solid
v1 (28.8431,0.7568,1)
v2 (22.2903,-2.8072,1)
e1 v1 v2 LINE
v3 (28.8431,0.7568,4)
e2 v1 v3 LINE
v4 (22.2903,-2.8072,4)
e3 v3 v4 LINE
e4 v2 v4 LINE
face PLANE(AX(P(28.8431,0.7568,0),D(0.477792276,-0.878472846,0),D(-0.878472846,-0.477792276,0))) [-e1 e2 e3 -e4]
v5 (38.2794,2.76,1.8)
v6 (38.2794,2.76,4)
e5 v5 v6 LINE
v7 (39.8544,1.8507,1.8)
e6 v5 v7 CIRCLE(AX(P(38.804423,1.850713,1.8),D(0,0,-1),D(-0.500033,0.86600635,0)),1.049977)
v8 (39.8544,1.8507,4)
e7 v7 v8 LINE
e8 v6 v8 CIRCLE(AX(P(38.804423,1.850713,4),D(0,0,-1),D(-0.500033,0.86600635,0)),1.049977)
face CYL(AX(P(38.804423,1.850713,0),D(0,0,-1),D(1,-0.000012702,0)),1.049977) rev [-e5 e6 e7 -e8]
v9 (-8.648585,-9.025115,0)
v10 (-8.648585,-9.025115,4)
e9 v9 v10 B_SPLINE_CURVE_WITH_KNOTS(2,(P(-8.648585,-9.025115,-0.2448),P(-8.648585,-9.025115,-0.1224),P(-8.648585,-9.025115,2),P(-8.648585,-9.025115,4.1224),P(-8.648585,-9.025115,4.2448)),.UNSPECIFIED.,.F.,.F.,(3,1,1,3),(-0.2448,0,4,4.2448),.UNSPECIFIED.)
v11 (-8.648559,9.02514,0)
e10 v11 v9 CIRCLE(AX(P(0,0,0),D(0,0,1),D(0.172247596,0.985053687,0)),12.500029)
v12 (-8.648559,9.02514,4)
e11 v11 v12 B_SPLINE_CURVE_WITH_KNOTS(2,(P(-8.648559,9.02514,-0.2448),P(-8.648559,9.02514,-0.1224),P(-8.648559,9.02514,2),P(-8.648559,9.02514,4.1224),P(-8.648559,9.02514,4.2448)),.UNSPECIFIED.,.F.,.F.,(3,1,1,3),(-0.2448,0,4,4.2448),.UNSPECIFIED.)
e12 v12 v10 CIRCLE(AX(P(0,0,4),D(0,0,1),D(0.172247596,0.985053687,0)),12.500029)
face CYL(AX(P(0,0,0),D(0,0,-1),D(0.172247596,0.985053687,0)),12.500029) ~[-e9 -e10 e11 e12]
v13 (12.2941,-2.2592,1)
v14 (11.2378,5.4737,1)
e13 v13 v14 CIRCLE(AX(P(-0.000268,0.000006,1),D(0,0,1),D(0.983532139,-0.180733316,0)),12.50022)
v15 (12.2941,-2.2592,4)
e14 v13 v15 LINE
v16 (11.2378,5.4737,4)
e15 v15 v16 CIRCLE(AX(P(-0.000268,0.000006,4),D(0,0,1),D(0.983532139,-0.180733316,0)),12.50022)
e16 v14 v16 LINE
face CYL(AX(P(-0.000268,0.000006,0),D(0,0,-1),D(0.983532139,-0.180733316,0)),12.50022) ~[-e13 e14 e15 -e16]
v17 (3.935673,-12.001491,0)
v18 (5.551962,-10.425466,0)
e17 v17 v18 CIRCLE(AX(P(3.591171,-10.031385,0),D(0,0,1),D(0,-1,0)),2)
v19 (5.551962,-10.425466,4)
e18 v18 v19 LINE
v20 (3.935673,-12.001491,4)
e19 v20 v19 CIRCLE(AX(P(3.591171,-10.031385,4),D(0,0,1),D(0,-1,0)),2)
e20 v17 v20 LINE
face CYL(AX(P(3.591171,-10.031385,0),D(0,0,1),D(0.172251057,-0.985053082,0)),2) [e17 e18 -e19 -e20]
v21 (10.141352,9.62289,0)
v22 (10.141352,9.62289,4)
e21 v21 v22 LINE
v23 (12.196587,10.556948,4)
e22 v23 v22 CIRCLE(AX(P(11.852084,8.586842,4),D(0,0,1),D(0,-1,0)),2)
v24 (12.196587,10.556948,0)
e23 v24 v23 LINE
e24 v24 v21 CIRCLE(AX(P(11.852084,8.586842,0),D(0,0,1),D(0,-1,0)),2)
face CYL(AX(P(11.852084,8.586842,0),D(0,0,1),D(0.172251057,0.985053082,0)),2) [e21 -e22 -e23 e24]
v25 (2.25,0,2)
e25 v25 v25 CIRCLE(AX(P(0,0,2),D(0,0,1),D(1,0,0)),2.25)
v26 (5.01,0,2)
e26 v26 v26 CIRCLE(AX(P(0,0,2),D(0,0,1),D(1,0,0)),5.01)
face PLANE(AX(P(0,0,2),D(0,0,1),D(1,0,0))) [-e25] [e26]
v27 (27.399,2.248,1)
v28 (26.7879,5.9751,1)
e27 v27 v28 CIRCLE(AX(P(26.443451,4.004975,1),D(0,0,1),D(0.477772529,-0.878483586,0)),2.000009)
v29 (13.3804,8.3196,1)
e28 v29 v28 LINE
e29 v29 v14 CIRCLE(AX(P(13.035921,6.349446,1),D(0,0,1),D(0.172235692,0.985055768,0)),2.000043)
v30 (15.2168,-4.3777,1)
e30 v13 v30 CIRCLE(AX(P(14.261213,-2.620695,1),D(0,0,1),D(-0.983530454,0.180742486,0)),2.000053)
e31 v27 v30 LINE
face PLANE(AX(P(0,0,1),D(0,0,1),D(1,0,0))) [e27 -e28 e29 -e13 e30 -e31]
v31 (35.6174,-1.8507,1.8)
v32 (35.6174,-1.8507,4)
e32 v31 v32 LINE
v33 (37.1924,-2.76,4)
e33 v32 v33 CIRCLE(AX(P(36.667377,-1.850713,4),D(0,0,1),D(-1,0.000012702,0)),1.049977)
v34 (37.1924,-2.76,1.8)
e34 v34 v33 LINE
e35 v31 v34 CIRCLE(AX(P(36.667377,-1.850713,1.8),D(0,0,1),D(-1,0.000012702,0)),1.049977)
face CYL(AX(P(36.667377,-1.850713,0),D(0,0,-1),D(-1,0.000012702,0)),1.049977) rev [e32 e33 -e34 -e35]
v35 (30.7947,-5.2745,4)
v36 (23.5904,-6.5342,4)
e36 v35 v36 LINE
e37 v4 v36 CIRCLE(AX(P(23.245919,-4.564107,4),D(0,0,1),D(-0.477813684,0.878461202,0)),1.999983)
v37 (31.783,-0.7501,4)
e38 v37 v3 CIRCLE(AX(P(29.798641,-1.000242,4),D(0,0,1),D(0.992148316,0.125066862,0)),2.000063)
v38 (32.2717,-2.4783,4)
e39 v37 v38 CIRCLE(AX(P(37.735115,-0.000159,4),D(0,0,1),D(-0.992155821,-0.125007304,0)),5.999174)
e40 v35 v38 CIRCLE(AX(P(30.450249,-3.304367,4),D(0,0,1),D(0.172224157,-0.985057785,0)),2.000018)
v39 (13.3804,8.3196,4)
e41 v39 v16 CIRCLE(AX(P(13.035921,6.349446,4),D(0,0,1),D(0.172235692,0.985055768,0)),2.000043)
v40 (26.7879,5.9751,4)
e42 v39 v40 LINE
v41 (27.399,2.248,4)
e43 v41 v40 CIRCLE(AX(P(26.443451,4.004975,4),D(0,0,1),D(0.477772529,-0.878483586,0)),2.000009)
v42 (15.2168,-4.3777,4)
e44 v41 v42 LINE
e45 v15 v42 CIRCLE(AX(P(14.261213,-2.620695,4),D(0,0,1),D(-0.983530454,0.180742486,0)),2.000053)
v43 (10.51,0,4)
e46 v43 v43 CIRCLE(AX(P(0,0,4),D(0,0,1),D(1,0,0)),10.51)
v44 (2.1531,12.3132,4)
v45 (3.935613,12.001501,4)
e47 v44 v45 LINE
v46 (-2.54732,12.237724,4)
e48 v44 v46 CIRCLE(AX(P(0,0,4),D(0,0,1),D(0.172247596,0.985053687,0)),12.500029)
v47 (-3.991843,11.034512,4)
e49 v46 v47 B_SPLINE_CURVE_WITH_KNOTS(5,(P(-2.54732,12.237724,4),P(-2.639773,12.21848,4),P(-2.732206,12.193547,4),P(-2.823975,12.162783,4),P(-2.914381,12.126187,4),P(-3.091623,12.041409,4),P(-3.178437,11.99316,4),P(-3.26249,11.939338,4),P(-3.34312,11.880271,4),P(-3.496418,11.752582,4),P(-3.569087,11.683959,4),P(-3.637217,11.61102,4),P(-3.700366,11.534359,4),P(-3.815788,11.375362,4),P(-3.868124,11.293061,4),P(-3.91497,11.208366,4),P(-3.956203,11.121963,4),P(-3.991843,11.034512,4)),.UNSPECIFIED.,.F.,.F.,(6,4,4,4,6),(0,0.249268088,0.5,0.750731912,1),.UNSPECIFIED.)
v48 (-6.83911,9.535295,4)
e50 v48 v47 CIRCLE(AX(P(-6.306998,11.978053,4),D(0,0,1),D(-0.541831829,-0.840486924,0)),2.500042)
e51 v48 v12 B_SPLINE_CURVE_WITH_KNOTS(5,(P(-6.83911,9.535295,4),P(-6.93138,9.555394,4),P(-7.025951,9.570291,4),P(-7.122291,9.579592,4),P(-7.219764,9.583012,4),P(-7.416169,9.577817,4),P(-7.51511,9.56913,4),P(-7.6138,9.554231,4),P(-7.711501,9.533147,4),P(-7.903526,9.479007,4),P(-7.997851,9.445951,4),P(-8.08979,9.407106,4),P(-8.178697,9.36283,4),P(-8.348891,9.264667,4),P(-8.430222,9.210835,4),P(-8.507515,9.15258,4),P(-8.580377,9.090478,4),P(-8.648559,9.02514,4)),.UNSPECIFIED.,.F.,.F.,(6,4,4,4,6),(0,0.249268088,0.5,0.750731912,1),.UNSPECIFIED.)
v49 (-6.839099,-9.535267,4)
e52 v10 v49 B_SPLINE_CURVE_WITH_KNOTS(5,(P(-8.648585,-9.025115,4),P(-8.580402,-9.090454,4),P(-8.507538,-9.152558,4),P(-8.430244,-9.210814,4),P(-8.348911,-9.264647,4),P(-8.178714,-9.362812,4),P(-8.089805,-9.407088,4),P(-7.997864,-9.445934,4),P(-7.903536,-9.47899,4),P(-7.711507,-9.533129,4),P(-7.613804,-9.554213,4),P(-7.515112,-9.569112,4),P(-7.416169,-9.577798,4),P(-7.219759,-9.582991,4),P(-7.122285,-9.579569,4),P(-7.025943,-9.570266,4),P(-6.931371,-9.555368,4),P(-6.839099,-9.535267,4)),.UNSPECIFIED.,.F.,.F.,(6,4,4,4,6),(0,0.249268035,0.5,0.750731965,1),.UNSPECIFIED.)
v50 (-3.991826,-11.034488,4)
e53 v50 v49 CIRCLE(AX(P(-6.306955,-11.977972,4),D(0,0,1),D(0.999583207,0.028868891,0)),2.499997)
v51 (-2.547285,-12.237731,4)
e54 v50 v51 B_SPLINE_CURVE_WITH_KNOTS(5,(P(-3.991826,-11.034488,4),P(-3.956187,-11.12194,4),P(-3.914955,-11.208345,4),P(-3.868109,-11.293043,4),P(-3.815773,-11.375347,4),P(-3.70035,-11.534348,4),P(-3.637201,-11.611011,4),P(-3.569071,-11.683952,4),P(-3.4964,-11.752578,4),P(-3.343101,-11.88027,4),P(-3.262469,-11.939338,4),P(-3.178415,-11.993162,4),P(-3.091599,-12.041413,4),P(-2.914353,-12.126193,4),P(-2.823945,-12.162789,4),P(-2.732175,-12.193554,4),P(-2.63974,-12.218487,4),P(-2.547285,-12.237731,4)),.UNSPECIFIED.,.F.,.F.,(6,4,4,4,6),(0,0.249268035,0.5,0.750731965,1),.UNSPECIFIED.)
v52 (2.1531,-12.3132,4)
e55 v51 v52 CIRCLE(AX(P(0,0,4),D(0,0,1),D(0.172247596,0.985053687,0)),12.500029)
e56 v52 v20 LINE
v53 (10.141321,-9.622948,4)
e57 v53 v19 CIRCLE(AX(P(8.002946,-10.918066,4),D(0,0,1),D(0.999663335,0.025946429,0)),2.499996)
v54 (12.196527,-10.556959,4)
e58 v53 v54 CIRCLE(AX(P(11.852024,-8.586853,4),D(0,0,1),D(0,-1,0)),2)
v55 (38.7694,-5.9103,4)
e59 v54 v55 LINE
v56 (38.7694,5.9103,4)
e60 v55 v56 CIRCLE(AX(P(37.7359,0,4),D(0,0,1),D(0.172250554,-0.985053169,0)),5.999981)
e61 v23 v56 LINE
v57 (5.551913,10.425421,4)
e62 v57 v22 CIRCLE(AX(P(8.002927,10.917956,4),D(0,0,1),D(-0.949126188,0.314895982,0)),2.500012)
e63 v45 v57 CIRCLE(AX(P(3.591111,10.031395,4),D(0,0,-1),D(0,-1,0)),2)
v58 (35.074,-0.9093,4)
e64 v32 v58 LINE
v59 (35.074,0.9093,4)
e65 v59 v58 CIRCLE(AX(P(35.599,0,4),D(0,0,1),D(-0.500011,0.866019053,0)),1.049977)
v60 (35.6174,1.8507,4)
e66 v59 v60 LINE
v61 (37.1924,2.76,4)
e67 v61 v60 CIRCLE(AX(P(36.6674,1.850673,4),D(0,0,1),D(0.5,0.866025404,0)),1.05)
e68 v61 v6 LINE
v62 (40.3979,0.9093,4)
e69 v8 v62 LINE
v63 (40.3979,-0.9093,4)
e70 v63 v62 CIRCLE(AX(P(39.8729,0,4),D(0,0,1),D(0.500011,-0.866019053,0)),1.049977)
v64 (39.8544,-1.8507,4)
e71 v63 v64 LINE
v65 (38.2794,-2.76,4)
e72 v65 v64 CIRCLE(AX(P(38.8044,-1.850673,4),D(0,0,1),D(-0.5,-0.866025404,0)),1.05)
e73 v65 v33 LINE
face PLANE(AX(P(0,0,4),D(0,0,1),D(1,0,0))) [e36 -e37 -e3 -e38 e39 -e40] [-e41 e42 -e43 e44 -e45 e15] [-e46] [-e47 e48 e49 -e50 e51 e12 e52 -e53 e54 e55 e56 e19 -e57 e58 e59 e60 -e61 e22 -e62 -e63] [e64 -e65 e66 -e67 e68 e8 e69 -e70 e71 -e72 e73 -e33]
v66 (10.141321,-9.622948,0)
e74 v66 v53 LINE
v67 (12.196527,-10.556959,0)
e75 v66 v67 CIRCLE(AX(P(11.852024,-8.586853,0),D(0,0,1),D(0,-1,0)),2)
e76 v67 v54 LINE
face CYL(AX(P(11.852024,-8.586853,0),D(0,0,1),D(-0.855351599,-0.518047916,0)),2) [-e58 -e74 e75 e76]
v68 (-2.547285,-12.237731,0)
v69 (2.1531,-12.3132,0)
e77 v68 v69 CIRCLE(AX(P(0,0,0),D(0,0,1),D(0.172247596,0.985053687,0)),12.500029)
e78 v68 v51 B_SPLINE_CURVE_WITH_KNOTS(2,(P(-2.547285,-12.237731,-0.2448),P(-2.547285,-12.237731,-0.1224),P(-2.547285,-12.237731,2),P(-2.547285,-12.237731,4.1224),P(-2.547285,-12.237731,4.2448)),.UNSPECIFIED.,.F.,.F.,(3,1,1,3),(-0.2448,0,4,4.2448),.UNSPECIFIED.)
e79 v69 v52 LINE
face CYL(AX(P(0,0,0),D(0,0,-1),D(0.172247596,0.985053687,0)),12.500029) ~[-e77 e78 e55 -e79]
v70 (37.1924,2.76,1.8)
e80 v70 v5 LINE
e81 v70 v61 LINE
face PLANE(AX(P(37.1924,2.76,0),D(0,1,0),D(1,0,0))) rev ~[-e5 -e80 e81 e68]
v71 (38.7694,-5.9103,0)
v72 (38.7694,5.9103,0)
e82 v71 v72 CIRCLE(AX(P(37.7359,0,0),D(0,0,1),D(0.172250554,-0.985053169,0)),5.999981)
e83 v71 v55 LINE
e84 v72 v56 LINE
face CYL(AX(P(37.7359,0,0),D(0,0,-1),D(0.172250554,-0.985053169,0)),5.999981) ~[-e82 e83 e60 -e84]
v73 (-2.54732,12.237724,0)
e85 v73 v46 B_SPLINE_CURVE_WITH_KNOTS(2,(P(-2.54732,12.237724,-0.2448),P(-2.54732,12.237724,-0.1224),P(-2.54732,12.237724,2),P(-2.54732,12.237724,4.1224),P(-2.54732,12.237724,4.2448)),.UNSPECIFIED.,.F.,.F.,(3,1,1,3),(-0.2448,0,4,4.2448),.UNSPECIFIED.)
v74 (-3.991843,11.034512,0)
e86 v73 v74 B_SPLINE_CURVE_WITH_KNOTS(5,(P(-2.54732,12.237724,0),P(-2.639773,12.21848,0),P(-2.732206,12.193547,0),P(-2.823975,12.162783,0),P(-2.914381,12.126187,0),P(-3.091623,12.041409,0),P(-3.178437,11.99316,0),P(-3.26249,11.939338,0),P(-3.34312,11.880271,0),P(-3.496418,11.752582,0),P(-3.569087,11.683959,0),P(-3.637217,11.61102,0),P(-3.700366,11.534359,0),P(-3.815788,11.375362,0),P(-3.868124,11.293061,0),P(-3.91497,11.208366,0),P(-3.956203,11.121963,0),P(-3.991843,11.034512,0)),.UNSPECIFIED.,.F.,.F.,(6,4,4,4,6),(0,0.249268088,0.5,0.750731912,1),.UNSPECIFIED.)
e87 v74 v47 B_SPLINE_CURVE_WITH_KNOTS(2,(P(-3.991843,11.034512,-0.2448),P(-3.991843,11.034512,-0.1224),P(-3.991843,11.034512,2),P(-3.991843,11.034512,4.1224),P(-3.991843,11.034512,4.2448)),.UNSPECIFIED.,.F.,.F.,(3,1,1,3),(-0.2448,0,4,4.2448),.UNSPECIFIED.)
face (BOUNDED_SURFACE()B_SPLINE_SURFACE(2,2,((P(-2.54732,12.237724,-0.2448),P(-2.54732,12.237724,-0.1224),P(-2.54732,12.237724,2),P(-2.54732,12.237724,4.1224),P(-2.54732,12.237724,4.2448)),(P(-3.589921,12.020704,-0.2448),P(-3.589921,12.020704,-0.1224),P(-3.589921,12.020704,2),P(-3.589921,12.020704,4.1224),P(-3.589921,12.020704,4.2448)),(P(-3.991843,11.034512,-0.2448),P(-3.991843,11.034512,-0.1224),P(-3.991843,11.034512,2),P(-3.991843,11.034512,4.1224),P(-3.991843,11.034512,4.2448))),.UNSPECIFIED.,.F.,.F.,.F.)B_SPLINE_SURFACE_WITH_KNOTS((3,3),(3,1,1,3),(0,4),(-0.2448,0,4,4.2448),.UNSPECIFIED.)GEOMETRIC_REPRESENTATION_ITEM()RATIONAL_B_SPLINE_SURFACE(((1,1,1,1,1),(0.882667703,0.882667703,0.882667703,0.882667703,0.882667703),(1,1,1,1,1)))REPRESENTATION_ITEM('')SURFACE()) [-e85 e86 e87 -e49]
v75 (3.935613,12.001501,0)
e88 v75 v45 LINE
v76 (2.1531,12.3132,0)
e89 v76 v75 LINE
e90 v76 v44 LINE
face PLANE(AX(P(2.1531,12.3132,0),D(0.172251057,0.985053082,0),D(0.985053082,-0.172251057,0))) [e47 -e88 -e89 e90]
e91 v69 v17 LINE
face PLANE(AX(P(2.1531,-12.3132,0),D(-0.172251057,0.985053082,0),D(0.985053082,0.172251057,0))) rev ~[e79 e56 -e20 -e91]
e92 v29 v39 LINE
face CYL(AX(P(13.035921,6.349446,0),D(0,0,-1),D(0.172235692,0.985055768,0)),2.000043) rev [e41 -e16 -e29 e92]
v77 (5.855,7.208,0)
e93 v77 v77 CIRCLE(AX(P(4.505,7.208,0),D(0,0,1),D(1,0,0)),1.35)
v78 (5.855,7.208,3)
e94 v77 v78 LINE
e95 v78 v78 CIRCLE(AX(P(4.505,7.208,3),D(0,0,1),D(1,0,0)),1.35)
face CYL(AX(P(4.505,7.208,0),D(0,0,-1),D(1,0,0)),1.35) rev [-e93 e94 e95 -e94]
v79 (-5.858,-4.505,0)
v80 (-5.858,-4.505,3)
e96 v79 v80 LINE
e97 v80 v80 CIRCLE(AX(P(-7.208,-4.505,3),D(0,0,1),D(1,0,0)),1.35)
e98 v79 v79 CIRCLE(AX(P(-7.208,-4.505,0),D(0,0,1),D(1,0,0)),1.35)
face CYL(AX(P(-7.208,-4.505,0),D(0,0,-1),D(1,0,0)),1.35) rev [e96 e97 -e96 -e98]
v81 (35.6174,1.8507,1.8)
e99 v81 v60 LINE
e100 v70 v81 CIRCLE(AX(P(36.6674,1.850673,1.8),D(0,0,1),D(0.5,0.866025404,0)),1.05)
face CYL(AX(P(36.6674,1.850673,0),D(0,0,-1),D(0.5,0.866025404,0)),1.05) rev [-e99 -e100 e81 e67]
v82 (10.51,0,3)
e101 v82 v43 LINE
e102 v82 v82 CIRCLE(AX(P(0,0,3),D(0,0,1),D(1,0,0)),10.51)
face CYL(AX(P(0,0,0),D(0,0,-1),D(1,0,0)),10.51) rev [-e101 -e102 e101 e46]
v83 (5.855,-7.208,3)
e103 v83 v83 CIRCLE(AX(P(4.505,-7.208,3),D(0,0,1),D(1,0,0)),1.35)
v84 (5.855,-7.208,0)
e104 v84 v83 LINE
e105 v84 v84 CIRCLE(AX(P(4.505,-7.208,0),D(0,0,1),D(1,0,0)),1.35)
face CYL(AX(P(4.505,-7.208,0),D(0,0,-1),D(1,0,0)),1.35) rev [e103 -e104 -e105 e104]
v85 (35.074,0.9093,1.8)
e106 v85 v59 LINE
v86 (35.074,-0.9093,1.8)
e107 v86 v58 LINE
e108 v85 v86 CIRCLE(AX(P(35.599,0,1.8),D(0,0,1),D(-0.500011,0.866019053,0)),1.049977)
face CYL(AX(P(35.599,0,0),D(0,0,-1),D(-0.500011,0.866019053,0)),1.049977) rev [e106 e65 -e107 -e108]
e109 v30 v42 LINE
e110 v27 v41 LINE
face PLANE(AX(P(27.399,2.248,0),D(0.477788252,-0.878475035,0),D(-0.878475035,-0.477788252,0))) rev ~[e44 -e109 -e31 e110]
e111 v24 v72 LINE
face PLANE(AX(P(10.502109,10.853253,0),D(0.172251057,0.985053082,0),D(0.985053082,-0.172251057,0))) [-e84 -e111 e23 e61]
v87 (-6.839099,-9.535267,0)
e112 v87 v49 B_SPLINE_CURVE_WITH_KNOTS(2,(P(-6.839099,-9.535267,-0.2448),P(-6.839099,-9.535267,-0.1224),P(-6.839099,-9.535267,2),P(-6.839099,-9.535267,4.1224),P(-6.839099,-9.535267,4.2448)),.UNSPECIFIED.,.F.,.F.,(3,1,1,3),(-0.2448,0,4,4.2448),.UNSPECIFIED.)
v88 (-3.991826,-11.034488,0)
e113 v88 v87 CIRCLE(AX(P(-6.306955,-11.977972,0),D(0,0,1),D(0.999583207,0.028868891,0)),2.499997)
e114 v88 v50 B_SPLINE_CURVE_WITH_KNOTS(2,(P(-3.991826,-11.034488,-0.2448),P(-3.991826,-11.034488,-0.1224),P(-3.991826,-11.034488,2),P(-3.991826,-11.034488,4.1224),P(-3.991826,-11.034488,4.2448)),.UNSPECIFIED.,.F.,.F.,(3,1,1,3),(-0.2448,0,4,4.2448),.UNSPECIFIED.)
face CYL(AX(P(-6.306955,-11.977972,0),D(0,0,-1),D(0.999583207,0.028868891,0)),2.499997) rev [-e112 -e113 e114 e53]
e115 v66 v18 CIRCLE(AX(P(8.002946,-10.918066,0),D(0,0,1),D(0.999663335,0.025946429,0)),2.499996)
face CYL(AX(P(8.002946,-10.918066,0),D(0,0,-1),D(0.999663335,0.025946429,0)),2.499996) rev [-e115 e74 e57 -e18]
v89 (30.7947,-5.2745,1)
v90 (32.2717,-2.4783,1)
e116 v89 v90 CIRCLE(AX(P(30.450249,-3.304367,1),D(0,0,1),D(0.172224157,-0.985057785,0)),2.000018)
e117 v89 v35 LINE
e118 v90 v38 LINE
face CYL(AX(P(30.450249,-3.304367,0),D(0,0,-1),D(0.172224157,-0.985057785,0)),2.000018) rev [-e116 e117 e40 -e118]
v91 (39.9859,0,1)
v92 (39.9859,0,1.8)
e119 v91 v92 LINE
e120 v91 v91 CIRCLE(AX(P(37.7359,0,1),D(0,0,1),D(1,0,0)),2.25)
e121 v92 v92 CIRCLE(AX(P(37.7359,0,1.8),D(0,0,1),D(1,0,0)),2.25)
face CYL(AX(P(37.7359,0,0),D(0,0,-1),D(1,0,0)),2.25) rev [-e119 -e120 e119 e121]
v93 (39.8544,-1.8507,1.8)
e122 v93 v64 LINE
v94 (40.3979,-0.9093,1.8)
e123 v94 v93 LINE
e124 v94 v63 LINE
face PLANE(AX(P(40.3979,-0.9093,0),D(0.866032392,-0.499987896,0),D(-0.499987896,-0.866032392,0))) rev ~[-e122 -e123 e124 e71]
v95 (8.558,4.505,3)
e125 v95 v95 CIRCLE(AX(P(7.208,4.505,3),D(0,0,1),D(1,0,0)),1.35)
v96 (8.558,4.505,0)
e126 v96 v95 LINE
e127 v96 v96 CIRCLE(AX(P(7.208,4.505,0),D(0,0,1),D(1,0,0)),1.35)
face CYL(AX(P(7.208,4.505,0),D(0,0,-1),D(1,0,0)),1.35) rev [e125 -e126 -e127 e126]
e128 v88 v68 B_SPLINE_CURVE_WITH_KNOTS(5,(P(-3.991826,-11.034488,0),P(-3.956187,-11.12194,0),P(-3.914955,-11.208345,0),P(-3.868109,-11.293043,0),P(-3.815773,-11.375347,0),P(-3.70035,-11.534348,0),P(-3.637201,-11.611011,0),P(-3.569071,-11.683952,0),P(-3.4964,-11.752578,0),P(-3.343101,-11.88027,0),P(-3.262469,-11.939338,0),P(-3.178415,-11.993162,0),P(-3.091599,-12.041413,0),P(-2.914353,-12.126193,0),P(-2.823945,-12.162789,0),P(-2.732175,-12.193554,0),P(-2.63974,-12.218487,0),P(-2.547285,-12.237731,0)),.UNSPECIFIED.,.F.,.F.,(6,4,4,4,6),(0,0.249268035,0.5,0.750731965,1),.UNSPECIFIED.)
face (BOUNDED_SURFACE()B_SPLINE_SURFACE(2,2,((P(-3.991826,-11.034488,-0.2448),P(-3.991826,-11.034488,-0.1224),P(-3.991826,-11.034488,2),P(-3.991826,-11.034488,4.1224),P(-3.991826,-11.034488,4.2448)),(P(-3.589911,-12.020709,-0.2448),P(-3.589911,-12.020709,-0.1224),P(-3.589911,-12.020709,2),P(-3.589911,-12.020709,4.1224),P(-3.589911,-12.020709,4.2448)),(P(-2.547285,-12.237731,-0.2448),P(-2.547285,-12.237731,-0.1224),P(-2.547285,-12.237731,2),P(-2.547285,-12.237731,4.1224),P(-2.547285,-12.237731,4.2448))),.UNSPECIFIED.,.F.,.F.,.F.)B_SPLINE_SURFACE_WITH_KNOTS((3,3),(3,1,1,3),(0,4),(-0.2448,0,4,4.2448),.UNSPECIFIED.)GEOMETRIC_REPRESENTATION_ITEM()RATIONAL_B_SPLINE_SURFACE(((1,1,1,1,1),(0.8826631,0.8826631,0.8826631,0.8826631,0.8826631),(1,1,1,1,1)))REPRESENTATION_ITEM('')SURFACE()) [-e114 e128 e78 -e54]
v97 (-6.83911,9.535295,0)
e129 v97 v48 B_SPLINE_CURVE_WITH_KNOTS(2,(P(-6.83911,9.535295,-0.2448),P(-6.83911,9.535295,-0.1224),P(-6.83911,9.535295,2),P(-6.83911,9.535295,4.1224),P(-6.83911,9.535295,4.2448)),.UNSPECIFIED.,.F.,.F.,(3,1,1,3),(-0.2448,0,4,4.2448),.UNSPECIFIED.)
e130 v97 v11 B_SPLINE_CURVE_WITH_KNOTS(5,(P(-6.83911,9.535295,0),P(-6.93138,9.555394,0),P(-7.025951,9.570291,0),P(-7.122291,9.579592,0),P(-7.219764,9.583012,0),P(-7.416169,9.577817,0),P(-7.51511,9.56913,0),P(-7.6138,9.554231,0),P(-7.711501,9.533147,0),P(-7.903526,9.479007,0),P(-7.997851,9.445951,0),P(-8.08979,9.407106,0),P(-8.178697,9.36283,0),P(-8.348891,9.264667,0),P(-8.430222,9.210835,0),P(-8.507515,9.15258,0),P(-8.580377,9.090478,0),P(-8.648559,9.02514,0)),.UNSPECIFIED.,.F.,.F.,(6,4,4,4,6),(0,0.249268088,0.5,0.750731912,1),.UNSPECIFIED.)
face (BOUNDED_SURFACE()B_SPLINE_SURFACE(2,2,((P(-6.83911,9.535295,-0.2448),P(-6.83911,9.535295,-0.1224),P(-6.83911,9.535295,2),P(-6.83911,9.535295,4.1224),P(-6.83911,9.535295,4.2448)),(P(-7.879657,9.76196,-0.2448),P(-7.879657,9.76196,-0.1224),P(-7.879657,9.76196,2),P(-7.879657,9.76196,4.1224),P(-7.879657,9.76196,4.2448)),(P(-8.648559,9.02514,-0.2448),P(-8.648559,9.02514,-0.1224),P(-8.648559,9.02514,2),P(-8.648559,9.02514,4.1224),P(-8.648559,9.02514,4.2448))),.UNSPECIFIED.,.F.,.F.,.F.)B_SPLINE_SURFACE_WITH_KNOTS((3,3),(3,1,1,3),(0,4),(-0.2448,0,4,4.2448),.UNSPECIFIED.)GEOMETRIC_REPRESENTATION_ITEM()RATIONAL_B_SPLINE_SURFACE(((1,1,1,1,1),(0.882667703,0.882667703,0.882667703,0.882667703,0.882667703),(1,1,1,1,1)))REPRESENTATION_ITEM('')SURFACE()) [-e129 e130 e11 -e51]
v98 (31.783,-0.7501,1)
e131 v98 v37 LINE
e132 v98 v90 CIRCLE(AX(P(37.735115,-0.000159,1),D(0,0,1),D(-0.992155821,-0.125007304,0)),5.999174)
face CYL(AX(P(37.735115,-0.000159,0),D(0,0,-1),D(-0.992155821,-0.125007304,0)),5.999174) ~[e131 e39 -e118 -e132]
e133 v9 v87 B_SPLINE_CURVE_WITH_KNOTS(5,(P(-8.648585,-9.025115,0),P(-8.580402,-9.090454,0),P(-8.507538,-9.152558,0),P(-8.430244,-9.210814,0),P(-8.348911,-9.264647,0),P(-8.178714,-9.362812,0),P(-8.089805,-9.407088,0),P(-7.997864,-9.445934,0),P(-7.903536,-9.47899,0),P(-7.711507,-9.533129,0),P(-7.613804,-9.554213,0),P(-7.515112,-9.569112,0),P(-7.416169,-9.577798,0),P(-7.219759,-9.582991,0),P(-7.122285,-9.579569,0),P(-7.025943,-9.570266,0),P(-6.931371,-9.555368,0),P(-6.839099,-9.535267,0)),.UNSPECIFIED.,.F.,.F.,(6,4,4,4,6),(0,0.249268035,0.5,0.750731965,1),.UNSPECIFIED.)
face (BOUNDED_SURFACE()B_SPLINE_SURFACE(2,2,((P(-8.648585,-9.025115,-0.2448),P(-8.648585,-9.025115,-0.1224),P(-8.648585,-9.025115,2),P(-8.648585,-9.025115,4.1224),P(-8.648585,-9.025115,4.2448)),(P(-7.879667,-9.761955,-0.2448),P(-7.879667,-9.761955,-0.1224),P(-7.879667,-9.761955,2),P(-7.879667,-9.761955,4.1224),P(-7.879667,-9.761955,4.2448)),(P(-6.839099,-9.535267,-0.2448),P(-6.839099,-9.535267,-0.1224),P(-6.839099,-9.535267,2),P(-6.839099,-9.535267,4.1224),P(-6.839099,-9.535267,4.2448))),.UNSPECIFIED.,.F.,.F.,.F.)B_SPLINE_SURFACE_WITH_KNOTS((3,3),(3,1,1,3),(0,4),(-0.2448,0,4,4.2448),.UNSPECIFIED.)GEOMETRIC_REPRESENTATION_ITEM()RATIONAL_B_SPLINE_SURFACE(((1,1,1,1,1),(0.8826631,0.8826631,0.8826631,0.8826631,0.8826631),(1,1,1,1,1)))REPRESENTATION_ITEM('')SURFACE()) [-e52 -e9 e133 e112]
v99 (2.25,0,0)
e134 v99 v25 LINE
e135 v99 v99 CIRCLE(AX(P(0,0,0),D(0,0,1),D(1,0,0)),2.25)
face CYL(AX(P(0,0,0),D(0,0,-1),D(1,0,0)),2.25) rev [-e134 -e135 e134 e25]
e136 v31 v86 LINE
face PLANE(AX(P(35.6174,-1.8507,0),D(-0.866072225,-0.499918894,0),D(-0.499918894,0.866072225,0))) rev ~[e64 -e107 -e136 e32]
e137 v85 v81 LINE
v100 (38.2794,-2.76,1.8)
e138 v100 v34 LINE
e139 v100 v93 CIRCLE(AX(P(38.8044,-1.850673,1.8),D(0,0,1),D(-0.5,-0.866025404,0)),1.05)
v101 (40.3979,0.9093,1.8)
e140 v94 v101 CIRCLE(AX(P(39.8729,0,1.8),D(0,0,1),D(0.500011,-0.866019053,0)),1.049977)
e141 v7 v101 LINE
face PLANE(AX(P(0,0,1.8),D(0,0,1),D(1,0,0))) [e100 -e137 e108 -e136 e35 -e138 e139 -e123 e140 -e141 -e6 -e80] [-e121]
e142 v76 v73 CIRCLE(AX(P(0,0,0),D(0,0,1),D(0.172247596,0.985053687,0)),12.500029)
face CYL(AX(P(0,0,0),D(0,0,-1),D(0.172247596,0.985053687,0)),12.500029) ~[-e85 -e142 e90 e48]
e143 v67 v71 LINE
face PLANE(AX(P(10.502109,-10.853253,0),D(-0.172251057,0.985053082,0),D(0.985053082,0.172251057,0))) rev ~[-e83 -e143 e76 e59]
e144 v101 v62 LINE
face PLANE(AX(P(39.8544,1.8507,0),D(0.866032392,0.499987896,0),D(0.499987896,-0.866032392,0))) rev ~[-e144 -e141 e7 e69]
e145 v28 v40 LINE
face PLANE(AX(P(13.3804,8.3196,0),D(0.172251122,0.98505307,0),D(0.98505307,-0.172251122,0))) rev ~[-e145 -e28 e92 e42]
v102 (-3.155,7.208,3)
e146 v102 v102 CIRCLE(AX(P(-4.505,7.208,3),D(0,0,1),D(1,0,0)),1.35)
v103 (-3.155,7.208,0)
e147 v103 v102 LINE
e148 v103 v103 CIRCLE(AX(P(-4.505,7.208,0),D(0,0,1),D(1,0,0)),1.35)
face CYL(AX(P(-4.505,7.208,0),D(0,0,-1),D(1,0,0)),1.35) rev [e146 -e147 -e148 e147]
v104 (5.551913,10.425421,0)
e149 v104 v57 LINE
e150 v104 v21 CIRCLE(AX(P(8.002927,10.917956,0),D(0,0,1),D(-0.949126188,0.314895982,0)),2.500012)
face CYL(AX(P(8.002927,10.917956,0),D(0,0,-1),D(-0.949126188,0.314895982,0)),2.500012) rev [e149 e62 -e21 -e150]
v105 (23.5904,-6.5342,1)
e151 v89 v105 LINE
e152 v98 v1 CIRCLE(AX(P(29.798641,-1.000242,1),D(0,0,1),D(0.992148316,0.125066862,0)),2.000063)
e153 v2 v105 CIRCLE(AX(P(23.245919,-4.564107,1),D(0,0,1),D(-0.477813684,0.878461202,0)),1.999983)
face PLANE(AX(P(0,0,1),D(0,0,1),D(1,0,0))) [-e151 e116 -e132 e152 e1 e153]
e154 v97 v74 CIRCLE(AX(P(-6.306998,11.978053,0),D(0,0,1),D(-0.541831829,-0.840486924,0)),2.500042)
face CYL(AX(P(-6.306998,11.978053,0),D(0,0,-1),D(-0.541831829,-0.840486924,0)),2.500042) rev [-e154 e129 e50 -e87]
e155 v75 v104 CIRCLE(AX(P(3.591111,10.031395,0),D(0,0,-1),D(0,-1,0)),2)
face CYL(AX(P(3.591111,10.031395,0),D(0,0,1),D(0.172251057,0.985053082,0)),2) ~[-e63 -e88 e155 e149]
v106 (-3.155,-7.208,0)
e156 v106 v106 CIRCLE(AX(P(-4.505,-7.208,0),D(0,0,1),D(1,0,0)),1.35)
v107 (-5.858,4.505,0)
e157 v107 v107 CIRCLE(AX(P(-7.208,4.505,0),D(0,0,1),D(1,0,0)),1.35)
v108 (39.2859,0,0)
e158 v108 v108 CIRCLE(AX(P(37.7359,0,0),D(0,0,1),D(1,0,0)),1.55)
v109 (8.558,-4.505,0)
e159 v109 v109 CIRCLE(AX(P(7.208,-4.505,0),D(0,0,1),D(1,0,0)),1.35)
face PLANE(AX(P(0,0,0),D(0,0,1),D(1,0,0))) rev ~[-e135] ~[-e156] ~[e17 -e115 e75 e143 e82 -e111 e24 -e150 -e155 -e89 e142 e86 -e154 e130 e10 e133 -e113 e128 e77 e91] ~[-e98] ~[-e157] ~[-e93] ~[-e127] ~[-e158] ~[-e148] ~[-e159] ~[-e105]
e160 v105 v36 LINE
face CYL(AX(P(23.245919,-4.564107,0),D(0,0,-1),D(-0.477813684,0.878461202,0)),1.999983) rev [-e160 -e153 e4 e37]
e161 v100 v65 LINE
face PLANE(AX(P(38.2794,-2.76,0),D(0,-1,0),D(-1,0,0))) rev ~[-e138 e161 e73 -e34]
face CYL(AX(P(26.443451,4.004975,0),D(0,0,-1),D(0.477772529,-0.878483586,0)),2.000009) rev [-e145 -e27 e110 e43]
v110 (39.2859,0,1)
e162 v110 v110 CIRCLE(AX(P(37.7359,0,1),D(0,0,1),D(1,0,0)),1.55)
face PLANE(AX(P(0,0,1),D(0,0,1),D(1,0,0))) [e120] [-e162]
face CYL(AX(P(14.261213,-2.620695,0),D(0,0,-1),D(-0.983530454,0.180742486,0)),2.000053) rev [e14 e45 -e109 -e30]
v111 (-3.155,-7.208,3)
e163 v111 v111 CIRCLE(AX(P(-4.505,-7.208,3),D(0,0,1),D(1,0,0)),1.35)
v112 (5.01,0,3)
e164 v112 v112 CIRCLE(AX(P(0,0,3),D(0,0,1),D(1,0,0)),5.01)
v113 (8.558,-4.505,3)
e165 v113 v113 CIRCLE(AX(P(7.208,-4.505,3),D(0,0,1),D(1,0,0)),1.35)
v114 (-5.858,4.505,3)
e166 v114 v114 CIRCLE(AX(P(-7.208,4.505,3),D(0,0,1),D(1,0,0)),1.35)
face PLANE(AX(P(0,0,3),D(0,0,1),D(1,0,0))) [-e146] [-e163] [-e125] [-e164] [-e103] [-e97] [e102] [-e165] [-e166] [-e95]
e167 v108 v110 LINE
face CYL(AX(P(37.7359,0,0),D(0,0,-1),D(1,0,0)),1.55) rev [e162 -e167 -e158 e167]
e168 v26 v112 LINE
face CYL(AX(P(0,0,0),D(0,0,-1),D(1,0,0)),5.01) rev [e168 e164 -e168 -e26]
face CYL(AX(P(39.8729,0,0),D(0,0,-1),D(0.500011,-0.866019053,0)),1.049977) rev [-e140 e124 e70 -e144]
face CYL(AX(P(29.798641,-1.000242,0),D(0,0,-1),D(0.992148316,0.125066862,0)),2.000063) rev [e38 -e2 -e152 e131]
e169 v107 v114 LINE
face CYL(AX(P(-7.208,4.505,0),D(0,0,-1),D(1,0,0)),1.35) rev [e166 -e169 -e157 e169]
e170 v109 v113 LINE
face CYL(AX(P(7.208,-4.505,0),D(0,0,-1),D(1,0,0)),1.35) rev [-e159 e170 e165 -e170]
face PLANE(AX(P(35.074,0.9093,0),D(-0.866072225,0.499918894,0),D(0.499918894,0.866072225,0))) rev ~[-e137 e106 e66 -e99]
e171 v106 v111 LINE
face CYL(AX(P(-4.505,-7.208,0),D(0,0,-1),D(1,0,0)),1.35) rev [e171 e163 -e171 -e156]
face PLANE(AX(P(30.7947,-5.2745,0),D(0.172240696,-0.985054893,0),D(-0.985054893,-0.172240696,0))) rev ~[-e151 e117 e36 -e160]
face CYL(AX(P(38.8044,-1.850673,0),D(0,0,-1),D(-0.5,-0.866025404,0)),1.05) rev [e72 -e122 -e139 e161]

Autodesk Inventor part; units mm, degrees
ref_plane "YZ Plane" through (0, 0, 0) normal (1, 0, 0) x (0, 1, 0)
ref_plane "XZ Plane" through (0, 0, 0) normal (0, 1, 0) x (-1, 0, 0)
ref_plane "XY Plane" through (0, 0, 0) normal (0, 0, 1) x (1, 0, 0)
sketch "スケッチ1" plane through (0, 0, 0) normal (0, 0, 1) x (1, 0, 0)
  circle A0 centre (0, 0) radius 10.5 construction
  circle A1 centre (0, 0) radius 5 construction
  circle A2 centre (0, 0) radius 5.01
  circle A3 centre (0, 0) radius 10.51
  arc A4 (2.1531, 12.3132) -> (2.1531, -12.3132) centre (0, 0) ccw
  circle A5 centre (37.7359, 0) radius 2.25
  arc A6 (38.7694, -5.9103) -> (38.7694, 5.9103) centre (37.7359, 0) ccw
  line L0 (2.1531, 12.3132) -> (38.7694, 5.9103)
  line L1 (2.1531, -12.3132) -> (38.7694, -5.9103)
  line L2 (13.3804, 8.3196) -> (26.7879, 5.9751)
  line L3 (30.7947, -5.2745) -> (23.5904, -6.5342)
  arc A7 (2.1531, -12.3132) -> (-4.7001, 11.5827) centre (0, 0) ccw construction
  arc A8 (38.7694, 5.9103) -> (32.2717, -2.4783) centre (37.7359, 0) ccw construction
  line L4 (34.0196, 4.7105) -> (8.4896, -9.1748) construction
  line L5 (27.399, 2.248) -> (15.2168, -4.3777)
  line L6 (28.8431, 0.7568) -> (22.2903, -2.8072)
  line L7 (32.4358, 4.9875) -> (34.0196, 4.7105) construction
  line L8 (11.5743, -8.6354) -> (8.4896, -9.1748) construction
  arc A9 (31.783, -0.7501) -> (32.2717, -2.4783) centre (37.7359, 0) ccw
  arc A10 (12.2941, -2.2592) -> (11.2378, 5.4737) centre (0, 0) ccw
  line L9 (40.9229, 0) -> (40.3979, -0.9093) construction
  line L10 (39.3294, -2.76) -> (38.2794, -2.76) construction
  line L11 (36.1424, -2.76) -> (35.6174, -1.8507) construction
  line L12 (34.549, 0) -> (35.074, 0.9093) construction
  line L13 (36.1424, 2.76) -> (37.1924, 2.76) construction
  line L14 (39.3294, 2.76) -> (39.8544, 1.8507)
  arc A11 (40.3979, -0.9093) -> (40.3979, 0.9093) centre (39.8729, 0) ccw
  arc A12 (39.8544, 1.8507) -> (38.2794, 2.76) centre (38.8044, 1.8507) ccw
  arc A13 (37.1924, 2.76) -> (35.6174, 1.8507) centre (36.6674, 1.8507) ccw
  arc A14 (35.074, 0.9093) -> (35.074, -0.9093) centre (35.599, 0) ccw
  arc A15 (35.6174, -1.8507) -> (37.1924, -2.76) centre (36.6674, -1.8507) ccw
  arc A16 (38.2794, -2.76) -> (39.8544, -1.8507) centre (38.8044, -1.8507) ccw
  line L15 (40.3979, -0.9093) -> (39.8544, -1.8507)
  line L16 (39.8544, -1.8507) -> (39.3294, -2.76) construction
  line L17 (38.2794, -2.76) -> (37.1924, -2.76)
  line L18 (37.1924, -2.76) -> (36.1424, -2.76) construction
  line L19 (35.6174, -1.8507) -> (35.074, -0.9093)
  line L20 (35.074, -0.9093) -> (34.549, 0) construction
  line L21 (35.6174, 1.8507) -> (36.1424, 2.76) construction
  line L22 (35.074, 0.9093) -> (35.6174, 1.8507)
  line L23 (37.1924, 2.76) -> (38.2794, 2.76)
  line L24 (38.2794, 2.76) -> (39.3294, 2.76) construction
  line L25 (39.8544, 1.8507) -> (40.3979, 0.9093)
  line L26 (40.3979, 0.9093) -> (40.9229, 0) construction
  circle A17 centre (37.7359, 0) radius 1.55
  circle A18 centre (0, 0) radius 2.25
  line L27 (0, 0) -> (27.1359, -16.96) construction
  line L28 (37.7359, 0) -> (27.1359, -16.96) construction
  line L29 (0, 0) -> (37.7359, 0) construction
  line L30 (0, 0) -> (0.848, -0.53)
  line L31 (8.003, 10.918) -> (-6.307, -11.978) construction
  arc A19 (-3.808, -11.9058) -> (-7.6616, -9.8768) centre (-6.307, -11.978) ccw
  arc A20 (5.6301, 11.7052) -> (10.5021, 10.8532) centre (8.003, 10.918) ccw
  arc A21 (13.3804, 8.3196) -> (11.2378, 5.4737) centre (13.0359, 6.3495) ccw
  arc A22 (12.2941, -2.2592) -> (15.2168, -4.3777) centre (14.2612, -2.6207) ccw
  arc A23 (22.2903, -2.8072) -> (23.5904, -6.5342) centre (23.2459, -4.5641) ccw
  arc A24 (30.7947, -5.2745) -> (32.2717, -2.4783) centre (30.4502, -3.3043) ccw
  arc A25 (31.783, -0.7501) -> (28.8431, 0.7568) centre (29.7987, -1.0002) ccw
  arc A26 (27.399, 2.248) -> (26.7879, 5.9751) centre (26.4434, 4.005) ccw
  line L32 (8.003, -10.918) -> (-6.307, 11.978) construction
  arc A27 (-7.6616, 9.8768) -> (-3.808, 11.9058) centre (-6.307, 11.978) ccw
  arc A28 (10.5021, -10.8532) -> (5.6301, -11.7052) centre (8.003, -10.918) ccw
  line L33 (-6.625, -10.6) -> (6.625, 10.6) construction
  circle A29 centre (4.505, 7.208) radius 1.35
  circle A30 centre (-7.208, 4.505) radius 1.35
  circle A31 centre (-4.505, -7.208) radius 1.35
  circle A32 centre (7.208, -4.505) radius 1.35
  circle A33 centre (4.505, -7.208) radius 1.35
  circle A34 centre (-7.208, -4.505) radius 1.35
  circle A35 centre (-4.505, 7.208) radius 1.35
  circle A36 centre (7.208, 4.505) radius 1.35
  point P0 (8.4896, 9.1748)
  point P1 (34.0196, -4.7105)
  point P2 (10.3333, -7.0337)
  point P3 (32.3635, 2.6714)
  point P4 (39.3294, 2.76)
  point P5 (9.5861, 8.9831)
  point P6 (9.0332, 8.6401)
  point P7 (-3.808, 11.9058)
  dimension "d0" = 21
  dimension "d1" = 10
  dimension "d2" = 0.01
  dimension "d3" = 0.01
  dimension "d4" = 25
  dimension "d7" = 4.5
  dimension "d8" = 6
  dimension "d15" = 2
  dimension "d16" = 2
  dimension "d17" = 1
  dimension "d18" = 1
  dimension "d20" = 1.05
  dimension "d23" = 360
  dimension "d25" = 5.52
  dimension "d30" = 3.1
  dimension "d33" = 4.5
  dimension "d41" = 20
  dimension "d42" = 32
  dimension "d46" = 27
  dimension "d47" = 1
  dimension "d48" = 90
  dimension "d49" = 2.5
  dimension "d50" = 2.5
  dimension "d51" = 2
  dimension "d52" = 2
  dimension "d53" = 2
  dimension "d55" = 2.5
  dimension "d56" = 2.5
  dimension "d57" = 2.7
  dimension "d58" = 8.5
  dimension "d61" = 360
extrude "押し出し1" add sketch "スケッチ1" along normal blind 4 contours L0 A20 A6 L1 A28 A4 A19 A27
extrude "押し出し2" add sketch "スケッチ1" along normal blind 1.8 contours A12 L14 | L14 L25 A11 L15 A16 L17 A15 L19 A14 L22 A13 L23 A12
extrude "押し出し3" add sketch "スケッチ1" along normal blind 1 contours A5
extrude "押し出し4" add sketch "スケッチ1" along normal blind 3 contours A3
extrude "押し出し5" add sketch "スケッチ1" along normal blind 2 contours A2
extrude "押し出し6" add sketch "スケッチ1" along normal blind 1 contours L2 A26 L5 A22 A10 A21 | L3 A23 L6 A25 A9 A24
fillet "フィレット2" radius 2 8 edges at (-3.808, -11.9058, 2) (-7.6616, -9.8768, 2) (10.5021, 10.8532, 2) (5.6301, 11.7052, 2) (5.6301, -11.7052, 2) (10.5021, -10.8532, 2) (-7.6616, 9.8768, 2) (-3.808, 11.9058, 2)
equation "\"d3\" = d2"
equation "\"d18\" = d17"
equation "\"d50\" = d49"
properties part number "Ankle_side_pitch_frame" material "アルミニウム 2014-T4"
